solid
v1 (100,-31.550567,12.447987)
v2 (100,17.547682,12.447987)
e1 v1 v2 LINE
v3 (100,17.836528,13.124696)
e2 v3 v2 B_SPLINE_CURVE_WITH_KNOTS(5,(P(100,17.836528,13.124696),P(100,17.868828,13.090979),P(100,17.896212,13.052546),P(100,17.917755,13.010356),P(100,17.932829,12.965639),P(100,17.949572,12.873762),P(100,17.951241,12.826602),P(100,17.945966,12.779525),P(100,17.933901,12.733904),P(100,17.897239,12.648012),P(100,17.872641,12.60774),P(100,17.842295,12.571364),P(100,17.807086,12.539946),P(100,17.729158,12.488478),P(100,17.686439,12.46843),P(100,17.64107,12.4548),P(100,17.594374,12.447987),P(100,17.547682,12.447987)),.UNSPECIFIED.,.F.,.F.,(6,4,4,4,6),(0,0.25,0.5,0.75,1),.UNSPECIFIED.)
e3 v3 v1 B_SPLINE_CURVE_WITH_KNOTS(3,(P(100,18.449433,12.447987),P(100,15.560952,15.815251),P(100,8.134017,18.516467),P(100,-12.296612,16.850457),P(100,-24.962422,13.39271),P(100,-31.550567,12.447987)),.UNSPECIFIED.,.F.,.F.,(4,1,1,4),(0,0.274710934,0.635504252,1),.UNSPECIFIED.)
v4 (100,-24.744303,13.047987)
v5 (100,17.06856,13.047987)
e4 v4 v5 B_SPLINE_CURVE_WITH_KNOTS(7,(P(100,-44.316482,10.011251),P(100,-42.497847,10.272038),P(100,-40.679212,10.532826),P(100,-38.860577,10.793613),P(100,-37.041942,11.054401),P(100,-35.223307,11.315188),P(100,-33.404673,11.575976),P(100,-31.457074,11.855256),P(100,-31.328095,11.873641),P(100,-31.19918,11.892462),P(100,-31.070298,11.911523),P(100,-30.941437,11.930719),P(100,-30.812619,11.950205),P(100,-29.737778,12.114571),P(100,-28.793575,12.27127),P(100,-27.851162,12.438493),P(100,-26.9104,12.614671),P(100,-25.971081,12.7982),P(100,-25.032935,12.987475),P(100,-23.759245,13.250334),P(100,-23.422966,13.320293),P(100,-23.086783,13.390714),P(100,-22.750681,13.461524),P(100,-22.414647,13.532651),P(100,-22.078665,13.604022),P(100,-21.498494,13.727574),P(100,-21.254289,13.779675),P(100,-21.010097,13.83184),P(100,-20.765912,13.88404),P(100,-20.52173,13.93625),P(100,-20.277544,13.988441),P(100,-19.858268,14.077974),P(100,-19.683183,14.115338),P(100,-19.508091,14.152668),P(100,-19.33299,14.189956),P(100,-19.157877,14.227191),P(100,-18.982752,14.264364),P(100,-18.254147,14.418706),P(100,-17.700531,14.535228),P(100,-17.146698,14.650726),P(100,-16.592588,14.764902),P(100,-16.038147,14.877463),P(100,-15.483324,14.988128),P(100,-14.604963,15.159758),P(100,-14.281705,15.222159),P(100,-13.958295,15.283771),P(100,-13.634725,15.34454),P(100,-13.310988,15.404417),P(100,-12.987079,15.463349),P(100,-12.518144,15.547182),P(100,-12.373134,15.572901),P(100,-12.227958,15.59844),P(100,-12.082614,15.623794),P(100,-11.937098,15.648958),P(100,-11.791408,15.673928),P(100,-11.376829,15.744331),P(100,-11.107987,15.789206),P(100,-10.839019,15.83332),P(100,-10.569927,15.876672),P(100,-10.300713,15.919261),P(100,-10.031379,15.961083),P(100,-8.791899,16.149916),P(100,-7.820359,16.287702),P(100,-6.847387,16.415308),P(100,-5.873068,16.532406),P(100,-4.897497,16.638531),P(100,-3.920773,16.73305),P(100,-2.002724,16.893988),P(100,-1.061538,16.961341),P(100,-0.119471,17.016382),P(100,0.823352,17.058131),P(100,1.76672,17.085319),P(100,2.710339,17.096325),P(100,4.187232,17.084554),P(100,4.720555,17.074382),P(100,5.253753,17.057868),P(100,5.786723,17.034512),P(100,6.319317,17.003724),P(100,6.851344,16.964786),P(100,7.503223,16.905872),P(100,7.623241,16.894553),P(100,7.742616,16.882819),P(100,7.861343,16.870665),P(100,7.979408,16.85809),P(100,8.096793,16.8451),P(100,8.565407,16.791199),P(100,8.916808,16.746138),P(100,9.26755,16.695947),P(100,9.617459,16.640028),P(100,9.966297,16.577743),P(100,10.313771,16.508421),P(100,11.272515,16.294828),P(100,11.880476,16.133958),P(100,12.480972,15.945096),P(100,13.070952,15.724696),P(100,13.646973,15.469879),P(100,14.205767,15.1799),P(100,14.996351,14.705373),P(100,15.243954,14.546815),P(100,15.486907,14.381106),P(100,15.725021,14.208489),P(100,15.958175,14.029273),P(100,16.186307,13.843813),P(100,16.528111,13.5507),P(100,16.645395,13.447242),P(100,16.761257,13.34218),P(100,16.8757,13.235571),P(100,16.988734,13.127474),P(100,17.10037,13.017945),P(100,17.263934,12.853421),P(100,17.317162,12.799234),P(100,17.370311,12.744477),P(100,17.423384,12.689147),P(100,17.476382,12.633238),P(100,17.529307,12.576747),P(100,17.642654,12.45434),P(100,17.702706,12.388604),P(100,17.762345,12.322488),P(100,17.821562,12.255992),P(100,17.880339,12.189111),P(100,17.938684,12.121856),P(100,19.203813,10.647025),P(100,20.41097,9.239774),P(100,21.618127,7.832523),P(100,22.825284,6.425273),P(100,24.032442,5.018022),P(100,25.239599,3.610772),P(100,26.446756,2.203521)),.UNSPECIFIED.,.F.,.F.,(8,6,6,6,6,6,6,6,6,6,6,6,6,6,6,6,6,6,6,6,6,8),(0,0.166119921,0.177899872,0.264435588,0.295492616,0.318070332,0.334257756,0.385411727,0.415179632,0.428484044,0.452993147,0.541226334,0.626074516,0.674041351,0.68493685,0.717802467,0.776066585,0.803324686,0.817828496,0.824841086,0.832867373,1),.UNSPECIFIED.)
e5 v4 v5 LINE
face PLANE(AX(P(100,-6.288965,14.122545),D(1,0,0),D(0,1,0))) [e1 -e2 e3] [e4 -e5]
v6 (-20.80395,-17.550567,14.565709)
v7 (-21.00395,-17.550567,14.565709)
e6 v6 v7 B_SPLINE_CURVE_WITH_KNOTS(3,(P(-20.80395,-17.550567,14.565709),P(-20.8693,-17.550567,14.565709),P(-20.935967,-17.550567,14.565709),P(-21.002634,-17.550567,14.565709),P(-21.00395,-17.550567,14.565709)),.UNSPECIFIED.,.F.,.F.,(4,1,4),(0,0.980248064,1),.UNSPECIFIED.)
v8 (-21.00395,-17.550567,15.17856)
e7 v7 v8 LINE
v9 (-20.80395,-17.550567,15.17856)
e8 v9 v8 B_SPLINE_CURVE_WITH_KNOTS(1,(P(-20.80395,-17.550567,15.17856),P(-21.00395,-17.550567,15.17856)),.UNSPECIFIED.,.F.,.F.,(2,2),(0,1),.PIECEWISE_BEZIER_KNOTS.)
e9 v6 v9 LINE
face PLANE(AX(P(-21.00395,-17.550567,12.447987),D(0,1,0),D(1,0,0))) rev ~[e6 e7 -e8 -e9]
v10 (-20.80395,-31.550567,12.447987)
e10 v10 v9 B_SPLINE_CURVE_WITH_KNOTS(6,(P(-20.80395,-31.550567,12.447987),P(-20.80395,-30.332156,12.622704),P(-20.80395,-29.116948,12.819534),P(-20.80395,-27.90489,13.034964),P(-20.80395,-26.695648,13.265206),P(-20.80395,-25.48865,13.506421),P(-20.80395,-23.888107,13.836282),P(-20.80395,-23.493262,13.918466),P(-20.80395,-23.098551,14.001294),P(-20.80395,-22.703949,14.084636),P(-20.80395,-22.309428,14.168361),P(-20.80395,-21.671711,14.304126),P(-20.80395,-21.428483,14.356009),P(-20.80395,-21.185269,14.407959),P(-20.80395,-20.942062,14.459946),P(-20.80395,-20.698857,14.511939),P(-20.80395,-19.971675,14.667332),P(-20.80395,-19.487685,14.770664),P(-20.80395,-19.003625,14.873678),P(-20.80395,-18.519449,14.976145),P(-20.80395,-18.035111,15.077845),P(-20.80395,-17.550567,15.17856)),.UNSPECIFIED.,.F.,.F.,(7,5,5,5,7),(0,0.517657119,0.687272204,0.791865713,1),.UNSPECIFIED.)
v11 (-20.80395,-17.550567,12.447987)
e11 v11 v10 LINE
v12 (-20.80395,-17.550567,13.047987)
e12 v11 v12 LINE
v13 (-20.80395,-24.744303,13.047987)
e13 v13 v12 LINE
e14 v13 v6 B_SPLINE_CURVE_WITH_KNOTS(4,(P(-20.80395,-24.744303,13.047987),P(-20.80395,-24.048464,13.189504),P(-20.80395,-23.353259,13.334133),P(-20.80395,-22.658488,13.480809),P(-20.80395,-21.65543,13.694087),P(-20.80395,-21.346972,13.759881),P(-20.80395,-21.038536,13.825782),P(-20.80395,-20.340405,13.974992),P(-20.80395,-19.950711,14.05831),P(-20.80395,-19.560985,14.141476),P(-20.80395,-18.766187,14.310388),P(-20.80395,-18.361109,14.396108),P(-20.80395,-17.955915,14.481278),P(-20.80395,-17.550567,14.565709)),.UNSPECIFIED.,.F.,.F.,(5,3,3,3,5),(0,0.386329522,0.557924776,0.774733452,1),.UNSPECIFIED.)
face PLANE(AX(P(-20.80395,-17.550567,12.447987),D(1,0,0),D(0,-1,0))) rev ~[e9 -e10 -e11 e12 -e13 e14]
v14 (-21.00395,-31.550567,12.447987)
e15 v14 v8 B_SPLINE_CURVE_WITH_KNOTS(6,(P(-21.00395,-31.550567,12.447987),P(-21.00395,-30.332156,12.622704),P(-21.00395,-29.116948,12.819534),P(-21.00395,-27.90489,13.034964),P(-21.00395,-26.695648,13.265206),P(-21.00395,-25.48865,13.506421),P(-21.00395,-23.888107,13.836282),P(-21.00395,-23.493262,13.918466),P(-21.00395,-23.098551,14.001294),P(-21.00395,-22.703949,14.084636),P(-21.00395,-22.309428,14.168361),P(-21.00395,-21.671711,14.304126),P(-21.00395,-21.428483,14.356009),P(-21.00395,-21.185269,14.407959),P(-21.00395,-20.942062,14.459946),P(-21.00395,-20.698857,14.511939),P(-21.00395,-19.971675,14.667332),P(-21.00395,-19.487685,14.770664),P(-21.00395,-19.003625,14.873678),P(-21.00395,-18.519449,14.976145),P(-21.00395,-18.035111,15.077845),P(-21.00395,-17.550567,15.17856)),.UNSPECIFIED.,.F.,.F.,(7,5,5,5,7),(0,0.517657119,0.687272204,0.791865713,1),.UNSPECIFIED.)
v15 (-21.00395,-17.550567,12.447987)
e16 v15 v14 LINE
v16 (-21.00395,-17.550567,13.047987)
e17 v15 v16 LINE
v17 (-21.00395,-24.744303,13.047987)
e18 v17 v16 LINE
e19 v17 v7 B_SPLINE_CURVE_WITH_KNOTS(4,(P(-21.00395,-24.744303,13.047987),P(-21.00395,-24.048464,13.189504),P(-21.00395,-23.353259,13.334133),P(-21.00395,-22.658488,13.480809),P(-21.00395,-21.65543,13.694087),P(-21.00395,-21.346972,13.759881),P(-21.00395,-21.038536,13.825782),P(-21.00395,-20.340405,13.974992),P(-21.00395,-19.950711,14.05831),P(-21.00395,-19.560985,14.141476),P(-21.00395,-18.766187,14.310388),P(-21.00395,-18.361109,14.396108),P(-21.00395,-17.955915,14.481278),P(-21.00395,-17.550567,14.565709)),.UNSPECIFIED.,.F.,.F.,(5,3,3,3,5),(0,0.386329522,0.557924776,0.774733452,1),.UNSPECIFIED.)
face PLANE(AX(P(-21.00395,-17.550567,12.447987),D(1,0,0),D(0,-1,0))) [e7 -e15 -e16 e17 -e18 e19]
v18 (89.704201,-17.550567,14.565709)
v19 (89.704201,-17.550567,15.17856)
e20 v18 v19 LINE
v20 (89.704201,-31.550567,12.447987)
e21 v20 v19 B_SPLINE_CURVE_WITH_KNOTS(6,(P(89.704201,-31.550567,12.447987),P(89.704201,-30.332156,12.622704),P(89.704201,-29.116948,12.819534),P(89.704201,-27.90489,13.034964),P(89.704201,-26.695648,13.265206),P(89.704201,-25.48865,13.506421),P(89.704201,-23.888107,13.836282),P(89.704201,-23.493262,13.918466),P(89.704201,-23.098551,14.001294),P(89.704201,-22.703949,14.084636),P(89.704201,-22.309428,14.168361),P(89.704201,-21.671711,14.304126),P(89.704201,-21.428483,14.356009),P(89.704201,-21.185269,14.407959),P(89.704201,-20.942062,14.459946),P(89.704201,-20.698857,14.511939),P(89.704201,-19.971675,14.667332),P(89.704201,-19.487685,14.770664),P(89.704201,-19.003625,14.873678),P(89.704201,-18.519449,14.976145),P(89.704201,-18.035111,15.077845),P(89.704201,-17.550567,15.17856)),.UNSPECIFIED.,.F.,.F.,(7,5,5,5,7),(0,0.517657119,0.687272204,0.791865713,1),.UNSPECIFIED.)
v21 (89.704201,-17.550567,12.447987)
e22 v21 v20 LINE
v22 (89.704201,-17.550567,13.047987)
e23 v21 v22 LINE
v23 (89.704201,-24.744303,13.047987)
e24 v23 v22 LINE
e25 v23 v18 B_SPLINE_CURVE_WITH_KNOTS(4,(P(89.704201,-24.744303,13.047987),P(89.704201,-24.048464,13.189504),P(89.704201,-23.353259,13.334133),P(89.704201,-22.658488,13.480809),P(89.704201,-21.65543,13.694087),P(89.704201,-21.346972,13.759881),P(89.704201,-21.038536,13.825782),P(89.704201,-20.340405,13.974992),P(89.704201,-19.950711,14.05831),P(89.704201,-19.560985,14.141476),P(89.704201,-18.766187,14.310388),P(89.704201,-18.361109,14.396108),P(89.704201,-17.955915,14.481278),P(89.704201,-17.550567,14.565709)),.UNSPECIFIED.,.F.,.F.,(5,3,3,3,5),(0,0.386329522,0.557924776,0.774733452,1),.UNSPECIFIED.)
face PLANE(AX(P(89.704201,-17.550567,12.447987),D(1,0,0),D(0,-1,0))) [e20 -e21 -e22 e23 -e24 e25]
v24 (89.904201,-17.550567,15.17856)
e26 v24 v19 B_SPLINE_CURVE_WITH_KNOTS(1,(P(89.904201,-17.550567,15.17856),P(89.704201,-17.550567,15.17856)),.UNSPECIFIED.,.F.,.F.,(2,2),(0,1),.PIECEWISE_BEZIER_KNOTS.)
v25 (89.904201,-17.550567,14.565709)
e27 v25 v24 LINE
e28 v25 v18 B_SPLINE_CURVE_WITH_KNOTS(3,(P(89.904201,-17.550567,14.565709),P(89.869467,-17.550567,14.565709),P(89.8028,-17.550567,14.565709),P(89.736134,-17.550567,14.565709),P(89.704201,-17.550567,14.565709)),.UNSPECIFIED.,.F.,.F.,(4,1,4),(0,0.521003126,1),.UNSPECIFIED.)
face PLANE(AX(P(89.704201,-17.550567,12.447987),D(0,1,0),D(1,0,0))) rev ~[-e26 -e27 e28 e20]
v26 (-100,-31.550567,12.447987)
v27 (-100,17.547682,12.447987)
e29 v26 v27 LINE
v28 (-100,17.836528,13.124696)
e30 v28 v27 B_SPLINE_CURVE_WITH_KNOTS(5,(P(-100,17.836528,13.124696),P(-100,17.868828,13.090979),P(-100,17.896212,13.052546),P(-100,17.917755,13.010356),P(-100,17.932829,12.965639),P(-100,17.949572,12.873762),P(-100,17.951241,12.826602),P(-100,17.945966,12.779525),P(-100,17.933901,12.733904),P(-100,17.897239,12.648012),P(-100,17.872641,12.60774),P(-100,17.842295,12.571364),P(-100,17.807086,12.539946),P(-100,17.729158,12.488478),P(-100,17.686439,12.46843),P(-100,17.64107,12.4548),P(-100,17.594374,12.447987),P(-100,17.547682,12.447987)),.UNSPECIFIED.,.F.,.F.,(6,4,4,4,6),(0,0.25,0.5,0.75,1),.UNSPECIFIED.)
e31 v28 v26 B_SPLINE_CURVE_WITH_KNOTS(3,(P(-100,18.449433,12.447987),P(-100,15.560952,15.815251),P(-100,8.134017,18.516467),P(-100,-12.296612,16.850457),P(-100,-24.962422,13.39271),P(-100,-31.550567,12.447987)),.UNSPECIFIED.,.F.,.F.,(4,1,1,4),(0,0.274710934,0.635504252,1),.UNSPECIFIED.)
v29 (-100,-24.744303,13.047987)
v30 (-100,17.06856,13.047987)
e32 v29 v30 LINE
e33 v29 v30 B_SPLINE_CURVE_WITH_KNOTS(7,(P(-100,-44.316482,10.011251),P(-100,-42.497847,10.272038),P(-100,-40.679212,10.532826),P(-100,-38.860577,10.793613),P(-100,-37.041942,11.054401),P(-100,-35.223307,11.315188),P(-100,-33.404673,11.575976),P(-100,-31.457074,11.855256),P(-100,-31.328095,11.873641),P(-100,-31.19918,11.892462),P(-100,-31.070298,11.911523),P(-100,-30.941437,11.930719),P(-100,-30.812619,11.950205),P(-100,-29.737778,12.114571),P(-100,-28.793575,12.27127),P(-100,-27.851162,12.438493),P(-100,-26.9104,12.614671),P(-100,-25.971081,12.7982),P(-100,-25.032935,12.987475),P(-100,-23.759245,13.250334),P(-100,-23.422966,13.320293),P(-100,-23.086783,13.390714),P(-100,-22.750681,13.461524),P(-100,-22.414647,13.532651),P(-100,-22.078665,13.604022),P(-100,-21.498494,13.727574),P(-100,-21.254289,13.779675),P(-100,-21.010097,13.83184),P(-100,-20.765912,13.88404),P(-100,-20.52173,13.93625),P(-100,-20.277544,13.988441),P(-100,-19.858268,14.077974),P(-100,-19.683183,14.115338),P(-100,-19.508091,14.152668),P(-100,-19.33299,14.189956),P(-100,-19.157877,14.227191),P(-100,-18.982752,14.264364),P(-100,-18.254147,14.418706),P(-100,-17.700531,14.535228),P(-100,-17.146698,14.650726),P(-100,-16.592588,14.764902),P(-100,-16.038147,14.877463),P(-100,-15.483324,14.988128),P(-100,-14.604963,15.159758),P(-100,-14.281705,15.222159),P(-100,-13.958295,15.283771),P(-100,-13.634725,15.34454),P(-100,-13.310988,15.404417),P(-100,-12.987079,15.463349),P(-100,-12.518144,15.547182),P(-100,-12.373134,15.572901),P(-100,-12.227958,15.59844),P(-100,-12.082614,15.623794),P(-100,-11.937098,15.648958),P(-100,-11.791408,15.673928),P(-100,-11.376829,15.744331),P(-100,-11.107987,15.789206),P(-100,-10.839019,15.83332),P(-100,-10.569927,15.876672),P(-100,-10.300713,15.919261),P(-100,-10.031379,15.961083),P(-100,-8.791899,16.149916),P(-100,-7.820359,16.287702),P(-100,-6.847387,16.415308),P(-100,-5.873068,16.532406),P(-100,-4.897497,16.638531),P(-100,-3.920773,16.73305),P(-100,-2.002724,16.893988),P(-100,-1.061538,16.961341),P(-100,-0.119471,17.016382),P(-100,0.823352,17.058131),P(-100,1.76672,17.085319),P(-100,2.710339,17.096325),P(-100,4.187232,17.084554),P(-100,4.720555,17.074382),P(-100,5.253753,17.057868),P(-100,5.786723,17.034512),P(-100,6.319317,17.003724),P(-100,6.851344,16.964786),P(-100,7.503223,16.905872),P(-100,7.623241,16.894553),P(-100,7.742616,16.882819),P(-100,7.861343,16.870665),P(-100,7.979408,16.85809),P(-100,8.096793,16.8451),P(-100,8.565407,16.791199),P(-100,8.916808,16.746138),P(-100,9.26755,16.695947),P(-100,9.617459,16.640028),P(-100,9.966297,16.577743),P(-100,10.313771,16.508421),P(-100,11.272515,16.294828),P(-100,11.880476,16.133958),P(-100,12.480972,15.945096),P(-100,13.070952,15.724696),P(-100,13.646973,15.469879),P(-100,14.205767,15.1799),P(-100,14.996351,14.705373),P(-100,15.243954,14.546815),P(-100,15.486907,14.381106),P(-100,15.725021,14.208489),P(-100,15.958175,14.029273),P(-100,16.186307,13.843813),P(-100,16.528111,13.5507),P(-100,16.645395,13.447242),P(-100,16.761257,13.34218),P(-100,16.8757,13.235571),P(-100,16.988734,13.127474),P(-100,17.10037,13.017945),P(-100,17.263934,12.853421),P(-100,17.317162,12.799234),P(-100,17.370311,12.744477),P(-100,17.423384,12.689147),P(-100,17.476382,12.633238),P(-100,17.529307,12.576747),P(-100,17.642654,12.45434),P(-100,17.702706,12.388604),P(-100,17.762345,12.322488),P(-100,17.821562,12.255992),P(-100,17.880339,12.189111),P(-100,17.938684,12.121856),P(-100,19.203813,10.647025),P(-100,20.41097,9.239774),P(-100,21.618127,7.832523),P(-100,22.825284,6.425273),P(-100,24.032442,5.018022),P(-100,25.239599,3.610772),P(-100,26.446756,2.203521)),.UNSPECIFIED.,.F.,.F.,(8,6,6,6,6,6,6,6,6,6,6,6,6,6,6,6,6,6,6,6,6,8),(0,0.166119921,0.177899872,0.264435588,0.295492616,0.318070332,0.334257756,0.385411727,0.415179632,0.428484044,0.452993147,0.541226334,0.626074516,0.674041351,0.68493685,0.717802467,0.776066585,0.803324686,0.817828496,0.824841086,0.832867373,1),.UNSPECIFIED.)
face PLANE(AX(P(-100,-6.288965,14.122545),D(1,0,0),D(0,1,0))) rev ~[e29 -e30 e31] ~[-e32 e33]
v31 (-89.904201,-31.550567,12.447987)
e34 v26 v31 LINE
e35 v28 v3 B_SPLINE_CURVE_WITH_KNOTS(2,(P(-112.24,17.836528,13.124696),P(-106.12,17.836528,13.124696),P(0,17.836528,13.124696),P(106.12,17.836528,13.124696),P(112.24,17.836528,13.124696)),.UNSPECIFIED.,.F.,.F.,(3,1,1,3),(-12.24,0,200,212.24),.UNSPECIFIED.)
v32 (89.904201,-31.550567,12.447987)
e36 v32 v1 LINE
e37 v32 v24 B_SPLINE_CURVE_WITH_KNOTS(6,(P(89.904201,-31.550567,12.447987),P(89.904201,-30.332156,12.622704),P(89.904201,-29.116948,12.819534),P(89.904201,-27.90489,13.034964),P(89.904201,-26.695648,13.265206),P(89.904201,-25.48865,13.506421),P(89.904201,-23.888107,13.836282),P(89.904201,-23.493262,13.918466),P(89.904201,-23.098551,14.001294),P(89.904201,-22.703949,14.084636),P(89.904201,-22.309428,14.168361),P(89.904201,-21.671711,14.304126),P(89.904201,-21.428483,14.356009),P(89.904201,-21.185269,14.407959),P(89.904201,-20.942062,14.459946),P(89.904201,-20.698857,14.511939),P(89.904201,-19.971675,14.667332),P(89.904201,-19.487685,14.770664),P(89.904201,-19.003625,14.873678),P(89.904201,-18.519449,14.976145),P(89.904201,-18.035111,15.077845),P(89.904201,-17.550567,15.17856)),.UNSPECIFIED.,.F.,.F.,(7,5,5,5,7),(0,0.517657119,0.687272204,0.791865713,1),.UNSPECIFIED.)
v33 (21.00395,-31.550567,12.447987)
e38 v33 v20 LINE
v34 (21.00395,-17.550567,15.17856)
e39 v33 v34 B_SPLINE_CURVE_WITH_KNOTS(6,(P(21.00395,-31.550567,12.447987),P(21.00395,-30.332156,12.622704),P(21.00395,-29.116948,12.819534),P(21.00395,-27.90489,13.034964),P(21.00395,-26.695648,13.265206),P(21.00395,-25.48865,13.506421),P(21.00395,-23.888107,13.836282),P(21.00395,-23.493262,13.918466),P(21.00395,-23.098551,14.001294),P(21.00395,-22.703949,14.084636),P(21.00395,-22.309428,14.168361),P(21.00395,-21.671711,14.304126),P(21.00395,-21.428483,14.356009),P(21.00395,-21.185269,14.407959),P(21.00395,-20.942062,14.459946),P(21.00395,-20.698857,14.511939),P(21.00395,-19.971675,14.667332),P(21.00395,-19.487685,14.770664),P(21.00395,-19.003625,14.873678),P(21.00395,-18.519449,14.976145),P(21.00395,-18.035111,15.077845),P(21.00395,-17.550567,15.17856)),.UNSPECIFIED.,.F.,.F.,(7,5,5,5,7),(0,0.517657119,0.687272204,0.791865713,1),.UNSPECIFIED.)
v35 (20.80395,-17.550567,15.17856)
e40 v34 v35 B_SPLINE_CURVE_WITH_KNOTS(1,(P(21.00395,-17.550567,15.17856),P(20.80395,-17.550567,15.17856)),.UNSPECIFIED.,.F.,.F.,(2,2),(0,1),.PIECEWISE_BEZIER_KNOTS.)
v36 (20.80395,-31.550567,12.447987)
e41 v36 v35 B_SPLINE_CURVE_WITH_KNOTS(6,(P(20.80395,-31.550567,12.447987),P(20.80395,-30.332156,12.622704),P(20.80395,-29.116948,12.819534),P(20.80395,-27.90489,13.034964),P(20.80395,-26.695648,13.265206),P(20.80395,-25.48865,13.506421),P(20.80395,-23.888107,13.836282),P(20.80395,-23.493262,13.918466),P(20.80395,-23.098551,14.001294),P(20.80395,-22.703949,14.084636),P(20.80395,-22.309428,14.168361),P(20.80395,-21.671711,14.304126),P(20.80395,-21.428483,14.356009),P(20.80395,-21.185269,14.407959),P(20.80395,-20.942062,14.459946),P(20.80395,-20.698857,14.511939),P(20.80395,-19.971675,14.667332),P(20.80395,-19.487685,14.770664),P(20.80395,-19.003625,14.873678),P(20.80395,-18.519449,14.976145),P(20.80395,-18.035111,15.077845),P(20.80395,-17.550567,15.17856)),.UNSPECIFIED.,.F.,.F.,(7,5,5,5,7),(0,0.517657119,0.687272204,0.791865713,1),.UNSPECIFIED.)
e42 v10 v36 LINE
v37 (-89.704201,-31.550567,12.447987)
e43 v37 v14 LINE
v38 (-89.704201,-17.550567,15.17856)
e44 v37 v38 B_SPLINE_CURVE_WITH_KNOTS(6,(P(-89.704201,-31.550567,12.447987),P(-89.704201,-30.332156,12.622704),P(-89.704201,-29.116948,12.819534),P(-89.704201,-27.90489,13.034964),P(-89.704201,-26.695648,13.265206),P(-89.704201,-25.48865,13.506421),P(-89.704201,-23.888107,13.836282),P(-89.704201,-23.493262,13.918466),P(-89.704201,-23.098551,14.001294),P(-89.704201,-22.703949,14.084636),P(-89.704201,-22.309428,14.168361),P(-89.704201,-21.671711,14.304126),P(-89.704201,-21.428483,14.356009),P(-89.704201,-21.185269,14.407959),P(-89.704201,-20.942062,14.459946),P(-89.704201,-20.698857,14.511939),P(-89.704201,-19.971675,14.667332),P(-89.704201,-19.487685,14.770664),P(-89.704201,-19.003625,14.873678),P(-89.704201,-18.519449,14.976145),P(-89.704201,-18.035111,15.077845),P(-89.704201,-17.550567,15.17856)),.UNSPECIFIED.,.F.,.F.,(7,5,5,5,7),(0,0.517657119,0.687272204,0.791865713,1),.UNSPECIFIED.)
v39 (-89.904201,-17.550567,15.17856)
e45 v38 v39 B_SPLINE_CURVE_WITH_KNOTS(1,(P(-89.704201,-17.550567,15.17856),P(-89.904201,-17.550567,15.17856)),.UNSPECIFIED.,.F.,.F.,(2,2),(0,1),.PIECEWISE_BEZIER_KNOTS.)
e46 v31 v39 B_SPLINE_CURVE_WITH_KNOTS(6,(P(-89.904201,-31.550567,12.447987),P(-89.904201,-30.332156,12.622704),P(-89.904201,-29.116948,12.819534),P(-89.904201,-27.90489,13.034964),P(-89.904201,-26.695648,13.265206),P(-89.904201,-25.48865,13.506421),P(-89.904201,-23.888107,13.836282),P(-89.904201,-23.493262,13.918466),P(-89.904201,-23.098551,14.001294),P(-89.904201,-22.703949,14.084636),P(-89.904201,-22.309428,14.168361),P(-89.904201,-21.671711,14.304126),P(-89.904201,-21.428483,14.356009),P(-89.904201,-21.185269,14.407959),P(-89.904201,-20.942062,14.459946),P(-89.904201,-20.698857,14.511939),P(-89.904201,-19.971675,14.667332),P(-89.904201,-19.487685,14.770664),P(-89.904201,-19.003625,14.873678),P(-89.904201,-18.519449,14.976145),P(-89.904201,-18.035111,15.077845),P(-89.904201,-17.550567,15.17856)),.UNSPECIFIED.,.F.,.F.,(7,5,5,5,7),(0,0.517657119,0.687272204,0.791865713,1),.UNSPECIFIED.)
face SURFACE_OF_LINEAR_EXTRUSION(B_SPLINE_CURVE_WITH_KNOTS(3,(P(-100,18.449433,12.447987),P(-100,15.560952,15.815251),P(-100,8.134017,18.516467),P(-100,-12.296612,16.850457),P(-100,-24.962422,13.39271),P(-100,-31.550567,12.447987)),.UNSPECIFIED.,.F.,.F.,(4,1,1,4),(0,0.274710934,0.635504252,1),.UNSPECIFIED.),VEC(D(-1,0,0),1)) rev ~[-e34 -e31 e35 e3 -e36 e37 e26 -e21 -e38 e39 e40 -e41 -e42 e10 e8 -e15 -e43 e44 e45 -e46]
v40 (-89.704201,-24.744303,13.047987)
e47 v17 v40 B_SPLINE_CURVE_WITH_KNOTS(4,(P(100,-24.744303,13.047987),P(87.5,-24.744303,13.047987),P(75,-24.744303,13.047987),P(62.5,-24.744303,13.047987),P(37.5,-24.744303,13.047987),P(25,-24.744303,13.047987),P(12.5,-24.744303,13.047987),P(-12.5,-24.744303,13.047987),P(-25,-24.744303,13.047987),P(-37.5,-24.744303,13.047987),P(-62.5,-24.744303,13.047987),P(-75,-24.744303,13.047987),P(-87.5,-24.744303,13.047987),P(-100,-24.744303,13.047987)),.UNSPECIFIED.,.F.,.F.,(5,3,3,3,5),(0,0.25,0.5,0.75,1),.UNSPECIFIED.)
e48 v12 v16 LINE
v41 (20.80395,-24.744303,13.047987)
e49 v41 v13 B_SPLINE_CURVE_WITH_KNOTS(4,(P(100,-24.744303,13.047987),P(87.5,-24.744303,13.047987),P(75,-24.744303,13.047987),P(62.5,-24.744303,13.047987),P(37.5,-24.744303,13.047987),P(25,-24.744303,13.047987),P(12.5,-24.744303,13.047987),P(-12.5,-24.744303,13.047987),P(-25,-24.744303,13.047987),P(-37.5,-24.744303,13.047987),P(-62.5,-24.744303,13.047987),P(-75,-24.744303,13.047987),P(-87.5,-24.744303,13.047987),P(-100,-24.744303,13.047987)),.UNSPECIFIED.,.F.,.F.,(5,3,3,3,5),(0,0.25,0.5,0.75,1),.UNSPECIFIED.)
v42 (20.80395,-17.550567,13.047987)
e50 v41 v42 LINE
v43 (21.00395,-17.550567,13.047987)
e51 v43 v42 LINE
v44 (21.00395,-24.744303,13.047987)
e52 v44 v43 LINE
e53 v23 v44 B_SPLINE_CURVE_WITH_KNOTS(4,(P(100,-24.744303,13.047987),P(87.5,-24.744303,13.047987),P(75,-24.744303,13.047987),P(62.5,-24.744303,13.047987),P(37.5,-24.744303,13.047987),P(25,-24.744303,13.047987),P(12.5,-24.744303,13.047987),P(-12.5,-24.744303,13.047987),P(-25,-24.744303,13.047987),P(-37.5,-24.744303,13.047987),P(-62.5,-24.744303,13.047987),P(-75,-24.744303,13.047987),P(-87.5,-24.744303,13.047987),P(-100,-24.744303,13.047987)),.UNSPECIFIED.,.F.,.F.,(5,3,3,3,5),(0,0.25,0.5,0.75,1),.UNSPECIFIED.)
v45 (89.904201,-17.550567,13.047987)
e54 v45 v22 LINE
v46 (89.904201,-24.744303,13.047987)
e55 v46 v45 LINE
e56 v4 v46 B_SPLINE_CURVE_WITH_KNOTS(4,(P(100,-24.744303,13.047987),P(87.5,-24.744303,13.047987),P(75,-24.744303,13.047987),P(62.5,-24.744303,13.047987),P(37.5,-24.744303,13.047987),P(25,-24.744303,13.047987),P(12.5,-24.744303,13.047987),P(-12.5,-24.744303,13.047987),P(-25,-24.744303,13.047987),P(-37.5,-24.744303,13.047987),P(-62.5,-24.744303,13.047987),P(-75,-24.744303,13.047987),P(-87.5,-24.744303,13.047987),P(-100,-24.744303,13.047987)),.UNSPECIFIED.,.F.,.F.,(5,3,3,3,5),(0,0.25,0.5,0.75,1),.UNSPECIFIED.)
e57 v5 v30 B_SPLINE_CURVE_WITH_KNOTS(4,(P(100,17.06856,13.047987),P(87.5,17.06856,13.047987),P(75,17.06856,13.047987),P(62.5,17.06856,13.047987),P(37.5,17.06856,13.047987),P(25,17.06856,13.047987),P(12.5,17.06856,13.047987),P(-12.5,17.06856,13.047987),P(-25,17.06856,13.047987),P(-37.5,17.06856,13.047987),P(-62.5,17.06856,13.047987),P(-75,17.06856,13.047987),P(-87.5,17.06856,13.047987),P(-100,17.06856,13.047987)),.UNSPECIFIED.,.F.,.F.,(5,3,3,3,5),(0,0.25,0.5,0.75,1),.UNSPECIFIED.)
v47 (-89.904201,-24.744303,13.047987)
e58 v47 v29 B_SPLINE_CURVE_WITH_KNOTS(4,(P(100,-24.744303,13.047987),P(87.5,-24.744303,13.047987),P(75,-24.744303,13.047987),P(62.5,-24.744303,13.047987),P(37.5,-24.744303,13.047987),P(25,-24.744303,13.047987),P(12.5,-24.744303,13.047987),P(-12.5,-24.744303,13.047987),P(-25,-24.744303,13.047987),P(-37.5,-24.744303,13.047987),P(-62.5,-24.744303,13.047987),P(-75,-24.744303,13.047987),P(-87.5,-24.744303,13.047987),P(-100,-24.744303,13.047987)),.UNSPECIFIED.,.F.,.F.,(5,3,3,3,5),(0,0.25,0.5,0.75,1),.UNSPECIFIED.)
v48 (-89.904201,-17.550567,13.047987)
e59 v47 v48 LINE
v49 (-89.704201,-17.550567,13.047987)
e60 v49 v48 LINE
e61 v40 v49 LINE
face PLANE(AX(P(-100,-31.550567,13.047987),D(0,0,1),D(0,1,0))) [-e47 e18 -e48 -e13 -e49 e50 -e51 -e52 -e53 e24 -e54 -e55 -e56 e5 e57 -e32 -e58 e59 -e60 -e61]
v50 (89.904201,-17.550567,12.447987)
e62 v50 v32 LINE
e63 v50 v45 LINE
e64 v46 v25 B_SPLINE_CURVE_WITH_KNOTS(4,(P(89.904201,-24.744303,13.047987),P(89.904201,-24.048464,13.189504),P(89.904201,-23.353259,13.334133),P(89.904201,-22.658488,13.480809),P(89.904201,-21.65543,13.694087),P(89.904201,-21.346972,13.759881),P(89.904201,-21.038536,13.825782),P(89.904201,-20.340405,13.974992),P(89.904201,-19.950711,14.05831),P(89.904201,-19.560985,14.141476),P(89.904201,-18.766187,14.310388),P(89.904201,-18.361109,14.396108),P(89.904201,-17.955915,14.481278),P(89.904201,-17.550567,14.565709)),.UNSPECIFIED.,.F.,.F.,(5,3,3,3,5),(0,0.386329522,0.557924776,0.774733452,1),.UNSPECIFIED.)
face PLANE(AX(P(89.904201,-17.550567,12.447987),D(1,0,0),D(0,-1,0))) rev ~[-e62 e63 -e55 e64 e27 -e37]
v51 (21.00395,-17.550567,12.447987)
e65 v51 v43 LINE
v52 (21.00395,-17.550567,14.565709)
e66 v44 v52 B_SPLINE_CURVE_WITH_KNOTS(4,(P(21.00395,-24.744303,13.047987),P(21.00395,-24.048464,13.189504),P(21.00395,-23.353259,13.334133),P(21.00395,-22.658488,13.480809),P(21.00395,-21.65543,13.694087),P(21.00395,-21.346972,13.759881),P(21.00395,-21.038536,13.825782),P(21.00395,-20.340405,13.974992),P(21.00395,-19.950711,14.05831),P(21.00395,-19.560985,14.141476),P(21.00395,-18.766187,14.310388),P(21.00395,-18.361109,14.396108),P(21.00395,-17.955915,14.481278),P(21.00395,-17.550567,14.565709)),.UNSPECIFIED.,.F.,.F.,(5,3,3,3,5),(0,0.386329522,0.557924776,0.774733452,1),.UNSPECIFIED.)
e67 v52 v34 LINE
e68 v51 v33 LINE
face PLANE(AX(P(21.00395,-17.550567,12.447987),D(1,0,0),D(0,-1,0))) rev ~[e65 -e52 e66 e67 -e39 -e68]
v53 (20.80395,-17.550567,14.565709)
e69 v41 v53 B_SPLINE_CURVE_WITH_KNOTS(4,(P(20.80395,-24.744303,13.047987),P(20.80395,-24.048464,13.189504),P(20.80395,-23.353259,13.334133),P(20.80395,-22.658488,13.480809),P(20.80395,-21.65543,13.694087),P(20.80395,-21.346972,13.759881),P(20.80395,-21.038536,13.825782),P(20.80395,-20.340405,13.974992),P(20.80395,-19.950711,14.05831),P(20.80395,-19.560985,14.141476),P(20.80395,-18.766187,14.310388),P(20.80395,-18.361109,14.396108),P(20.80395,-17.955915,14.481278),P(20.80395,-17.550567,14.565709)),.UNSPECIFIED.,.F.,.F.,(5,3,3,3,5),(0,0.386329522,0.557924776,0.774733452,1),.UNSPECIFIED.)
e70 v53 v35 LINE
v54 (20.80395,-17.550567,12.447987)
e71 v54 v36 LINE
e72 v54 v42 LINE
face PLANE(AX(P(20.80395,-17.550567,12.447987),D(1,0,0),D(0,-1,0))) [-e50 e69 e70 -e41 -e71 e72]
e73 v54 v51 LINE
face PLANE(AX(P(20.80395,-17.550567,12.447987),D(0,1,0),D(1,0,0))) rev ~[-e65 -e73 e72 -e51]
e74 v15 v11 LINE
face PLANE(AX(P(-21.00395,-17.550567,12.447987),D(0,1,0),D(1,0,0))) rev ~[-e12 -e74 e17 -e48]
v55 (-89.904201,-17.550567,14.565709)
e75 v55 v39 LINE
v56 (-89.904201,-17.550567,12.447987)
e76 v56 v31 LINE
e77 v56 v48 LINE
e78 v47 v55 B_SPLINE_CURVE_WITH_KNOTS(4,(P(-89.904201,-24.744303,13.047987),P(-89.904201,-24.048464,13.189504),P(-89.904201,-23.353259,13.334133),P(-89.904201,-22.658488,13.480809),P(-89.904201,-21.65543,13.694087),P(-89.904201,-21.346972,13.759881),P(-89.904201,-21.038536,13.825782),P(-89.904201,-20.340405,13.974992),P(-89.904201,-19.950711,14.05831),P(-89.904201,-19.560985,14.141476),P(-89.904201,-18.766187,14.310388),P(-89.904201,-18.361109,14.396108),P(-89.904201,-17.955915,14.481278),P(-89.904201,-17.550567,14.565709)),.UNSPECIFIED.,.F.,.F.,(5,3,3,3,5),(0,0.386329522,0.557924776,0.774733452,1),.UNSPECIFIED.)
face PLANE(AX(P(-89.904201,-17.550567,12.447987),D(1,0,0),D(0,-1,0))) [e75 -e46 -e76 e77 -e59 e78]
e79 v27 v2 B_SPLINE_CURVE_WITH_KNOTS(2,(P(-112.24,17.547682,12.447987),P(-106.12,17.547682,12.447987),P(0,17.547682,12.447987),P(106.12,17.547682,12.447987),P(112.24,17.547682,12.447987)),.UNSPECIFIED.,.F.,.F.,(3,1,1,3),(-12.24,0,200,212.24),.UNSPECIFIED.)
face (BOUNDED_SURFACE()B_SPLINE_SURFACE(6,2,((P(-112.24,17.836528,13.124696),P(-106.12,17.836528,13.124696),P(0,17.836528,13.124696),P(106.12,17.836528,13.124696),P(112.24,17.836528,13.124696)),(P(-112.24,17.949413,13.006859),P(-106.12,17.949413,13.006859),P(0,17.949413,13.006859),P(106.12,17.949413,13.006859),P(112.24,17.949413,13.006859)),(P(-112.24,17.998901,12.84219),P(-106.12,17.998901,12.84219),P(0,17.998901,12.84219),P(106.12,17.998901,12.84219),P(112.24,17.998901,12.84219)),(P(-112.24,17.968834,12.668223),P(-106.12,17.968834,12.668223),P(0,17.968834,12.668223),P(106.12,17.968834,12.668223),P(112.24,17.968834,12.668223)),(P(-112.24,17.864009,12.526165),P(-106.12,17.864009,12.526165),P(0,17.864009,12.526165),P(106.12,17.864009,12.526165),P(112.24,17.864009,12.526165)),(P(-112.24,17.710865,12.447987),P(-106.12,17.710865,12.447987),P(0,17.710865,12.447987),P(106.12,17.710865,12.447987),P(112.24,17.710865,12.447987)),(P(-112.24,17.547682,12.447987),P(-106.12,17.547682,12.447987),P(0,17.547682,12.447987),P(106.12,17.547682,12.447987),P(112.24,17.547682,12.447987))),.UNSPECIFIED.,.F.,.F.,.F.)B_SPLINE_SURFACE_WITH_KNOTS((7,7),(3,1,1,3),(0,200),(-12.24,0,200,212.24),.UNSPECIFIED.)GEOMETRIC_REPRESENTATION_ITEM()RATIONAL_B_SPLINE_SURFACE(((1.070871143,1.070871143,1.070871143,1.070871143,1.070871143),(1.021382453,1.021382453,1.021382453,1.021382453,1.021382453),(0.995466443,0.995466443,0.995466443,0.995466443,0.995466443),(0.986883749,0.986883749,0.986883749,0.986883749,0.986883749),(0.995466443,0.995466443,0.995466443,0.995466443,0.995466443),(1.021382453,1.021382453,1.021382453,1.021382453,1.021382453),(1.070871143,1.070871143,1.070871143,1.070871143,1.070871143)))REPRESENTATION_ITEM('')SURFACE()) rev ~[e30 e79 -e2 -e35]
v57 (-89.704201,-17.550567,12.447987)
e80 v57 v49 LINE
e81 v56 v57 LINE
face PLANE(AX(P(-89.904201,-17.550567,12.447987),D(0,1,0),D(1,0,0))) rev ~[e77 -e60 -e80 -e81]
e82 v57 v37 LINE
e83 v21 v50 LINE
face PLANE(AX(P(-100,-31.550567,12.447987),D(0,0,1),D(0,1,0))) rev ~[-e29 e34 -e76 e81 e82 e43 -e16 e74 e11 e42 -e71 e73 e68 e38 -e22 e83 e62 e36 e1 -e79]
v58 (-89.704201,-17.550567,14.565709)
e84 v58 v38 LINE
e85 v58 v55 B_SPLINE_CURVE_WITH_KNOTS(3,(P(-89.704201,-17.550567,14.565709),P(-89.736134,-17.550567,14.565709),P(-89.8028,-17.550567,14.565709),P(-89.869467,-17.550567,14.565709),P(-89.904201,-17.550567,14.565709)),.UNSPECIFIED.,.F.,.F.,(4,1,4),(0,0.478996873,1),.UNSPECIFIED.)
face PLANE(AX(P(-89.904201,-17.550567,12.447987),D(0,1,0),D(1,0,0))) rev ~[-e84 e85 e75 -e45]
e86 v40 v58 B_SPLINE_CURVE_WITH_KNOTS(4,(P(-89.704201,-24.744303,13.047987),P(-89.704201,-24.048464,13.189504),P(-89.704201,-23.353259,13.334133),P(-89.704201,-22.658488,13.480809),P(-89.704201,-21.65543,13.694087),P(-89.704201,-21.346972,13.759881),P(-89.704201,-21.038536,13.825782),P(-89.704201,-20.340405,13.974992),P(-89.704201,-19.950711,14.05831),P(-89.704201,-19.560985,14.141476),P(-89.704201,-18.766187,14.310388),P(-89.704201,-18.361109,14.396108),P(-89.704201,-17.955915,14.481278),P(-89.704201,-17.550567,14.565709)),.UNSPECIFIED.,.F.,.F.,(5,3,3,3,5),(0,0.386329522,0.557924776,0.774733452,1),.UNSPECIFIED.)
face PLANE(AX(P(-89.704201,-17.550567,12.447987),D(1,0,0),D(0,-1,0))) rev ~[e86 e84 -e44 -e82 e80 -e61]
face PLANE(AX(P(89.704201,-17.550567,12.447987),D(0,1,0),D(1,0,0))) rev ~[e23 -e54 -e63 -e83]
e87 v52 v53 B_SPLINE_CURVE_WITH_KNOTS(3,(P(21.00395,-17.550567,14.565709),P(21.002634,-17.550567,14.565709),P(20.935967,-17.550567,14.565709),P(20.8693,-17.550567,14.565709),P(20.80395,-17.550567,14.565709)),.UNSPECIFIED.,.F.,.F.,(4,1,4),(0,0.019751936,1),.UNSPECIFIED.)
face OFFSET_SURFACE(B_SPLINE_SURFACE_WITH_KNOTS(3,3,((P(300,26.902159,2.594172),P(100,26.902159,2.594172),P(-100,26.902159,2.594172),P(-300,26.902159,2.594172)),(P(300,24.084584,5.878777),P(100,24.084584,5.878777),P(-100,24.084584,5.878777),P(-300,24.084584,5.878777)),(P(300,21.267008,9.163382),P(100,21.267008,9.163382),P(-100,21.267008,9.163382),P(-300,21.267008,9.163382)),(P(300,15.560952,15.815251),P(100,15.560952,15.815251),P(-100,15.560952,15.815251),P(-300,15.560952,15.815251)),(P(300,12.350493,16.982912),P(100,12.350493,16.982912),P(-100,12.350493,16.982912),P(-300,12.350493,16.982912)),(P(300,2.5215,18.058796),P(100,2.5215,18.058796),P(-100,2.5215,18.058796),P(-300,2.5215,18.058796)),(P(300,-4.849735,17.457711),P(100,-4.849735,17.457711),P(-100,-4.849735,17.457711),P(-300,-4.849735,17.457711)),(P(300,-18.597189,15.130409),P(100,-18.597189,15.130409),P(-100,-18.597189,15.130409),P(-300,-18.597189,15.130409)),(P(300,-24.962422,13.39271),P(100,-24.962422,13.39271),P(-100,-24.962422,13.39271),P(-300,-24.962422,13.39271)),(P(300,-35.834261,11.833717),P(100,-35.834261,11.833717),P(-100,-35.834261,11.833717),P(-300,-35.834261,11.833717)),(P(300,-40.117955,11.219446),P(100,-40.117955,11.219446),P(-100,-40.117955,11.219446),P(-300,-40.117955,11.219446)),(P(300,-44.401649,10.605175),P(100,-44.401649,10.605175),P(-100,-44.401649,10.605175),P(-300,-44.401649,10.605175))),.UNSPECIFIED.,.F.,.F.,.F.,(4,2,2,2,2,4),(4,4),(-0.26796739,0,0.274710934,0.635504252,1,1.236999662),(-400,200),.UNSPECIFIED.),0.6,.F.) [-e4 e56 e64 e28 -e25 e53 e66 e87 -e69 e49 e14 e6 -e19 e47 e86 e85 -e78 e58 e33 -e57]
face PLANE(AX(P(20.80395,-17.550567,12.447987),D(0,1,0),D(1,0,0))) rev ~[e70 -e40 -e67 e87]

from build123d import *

# Parameters (mm, degrees)
F1_DEPTH = 200
F4_T     = -0.6
F3_W     = 0.2
F3_H     = 14
F5_DEPTH = 25
F6_W     = 0.2
F6_H     = 14
F7_DEPTH = 25
F8_R     = 0.4


with BuildPart() as f1:
    # F0 (on Right) → F1 (new body)
    with BuildSketch(Plane.YZ):
        with BuildLine():
            add(Edge.make_bspline(
                [(18.4494327754, -3.8520128001), (15.5609515421, -0.4847487874), (8.1340167717, 2.2164674432), (-12.2966120419, 0.5504568669), (-24.9624218007, -2.9072897866), (-31.5505672246, -3.8520128001)],
                knots=[0, 0, 0, 0, 0.2747109337, 0.6355042516, 1, 1, 1, 1], degree=3))
            Line((-31.5505672246, -3.8520128001), (18.4494327754, -3.8520128001))
        make_face()
    extrude(amount=F1_DEPTH)


with BuildPart() as f1_1:
    # F2: moved
    add(f1.part.moved(Location((-100, 0, 16.3))))

    # F4
    f4_openings = [f1_1.faces().sort_by_distance(p)[0] for p in [
        (100, -2.298769, 14.541602),
        (-100, -2.298769, 14.541602),
    ]]
    offset(amount=F4_T, openings=f4_openings)

    # F3 (on face) → F5 (cut)
    with BuildSketch(Plane(origin=(0, 0, 12.4479871999), x_dir=(1, 0, 0), z_dir=(0, 0, -1))):
        with Locations((89.8042006254, 24.5505672246)):
            Rectangle(F3_W, F3_H)
        with Locations((-89.8042006254, 24.5505672246)):
            Rectangle(F3_W, F3_H)
    extrude(amount=-F5_DEPTH, mode=Mode.SUBTRACT)

    # F6 (on face) → F7 (cut)
    with BuildSketch(Plane(origin=(0, 0, 12.4479871999), x_dir=(1, 0, 0), z_dir=(0, 0, -1))):
        with Locations((-20.9039503872, 24.5505672246)):
            Rectangle(F6_W, F6_H)
        with Locations((20.9039503872, 24.5505672246)):
            Rectangle(F6_W, F6_H)
    extrude(amount=-F7_DEPTH, mode=Mode.SUBTRACT)

    # F8
    f8_edges = [f1_1.edges().sort_by_distance(p)[0] for p in [
        (0, 18.449433, 12.447987),
    ]]
    fillet(f8_edges, radius=F8_R)


solid = f1_1.part
